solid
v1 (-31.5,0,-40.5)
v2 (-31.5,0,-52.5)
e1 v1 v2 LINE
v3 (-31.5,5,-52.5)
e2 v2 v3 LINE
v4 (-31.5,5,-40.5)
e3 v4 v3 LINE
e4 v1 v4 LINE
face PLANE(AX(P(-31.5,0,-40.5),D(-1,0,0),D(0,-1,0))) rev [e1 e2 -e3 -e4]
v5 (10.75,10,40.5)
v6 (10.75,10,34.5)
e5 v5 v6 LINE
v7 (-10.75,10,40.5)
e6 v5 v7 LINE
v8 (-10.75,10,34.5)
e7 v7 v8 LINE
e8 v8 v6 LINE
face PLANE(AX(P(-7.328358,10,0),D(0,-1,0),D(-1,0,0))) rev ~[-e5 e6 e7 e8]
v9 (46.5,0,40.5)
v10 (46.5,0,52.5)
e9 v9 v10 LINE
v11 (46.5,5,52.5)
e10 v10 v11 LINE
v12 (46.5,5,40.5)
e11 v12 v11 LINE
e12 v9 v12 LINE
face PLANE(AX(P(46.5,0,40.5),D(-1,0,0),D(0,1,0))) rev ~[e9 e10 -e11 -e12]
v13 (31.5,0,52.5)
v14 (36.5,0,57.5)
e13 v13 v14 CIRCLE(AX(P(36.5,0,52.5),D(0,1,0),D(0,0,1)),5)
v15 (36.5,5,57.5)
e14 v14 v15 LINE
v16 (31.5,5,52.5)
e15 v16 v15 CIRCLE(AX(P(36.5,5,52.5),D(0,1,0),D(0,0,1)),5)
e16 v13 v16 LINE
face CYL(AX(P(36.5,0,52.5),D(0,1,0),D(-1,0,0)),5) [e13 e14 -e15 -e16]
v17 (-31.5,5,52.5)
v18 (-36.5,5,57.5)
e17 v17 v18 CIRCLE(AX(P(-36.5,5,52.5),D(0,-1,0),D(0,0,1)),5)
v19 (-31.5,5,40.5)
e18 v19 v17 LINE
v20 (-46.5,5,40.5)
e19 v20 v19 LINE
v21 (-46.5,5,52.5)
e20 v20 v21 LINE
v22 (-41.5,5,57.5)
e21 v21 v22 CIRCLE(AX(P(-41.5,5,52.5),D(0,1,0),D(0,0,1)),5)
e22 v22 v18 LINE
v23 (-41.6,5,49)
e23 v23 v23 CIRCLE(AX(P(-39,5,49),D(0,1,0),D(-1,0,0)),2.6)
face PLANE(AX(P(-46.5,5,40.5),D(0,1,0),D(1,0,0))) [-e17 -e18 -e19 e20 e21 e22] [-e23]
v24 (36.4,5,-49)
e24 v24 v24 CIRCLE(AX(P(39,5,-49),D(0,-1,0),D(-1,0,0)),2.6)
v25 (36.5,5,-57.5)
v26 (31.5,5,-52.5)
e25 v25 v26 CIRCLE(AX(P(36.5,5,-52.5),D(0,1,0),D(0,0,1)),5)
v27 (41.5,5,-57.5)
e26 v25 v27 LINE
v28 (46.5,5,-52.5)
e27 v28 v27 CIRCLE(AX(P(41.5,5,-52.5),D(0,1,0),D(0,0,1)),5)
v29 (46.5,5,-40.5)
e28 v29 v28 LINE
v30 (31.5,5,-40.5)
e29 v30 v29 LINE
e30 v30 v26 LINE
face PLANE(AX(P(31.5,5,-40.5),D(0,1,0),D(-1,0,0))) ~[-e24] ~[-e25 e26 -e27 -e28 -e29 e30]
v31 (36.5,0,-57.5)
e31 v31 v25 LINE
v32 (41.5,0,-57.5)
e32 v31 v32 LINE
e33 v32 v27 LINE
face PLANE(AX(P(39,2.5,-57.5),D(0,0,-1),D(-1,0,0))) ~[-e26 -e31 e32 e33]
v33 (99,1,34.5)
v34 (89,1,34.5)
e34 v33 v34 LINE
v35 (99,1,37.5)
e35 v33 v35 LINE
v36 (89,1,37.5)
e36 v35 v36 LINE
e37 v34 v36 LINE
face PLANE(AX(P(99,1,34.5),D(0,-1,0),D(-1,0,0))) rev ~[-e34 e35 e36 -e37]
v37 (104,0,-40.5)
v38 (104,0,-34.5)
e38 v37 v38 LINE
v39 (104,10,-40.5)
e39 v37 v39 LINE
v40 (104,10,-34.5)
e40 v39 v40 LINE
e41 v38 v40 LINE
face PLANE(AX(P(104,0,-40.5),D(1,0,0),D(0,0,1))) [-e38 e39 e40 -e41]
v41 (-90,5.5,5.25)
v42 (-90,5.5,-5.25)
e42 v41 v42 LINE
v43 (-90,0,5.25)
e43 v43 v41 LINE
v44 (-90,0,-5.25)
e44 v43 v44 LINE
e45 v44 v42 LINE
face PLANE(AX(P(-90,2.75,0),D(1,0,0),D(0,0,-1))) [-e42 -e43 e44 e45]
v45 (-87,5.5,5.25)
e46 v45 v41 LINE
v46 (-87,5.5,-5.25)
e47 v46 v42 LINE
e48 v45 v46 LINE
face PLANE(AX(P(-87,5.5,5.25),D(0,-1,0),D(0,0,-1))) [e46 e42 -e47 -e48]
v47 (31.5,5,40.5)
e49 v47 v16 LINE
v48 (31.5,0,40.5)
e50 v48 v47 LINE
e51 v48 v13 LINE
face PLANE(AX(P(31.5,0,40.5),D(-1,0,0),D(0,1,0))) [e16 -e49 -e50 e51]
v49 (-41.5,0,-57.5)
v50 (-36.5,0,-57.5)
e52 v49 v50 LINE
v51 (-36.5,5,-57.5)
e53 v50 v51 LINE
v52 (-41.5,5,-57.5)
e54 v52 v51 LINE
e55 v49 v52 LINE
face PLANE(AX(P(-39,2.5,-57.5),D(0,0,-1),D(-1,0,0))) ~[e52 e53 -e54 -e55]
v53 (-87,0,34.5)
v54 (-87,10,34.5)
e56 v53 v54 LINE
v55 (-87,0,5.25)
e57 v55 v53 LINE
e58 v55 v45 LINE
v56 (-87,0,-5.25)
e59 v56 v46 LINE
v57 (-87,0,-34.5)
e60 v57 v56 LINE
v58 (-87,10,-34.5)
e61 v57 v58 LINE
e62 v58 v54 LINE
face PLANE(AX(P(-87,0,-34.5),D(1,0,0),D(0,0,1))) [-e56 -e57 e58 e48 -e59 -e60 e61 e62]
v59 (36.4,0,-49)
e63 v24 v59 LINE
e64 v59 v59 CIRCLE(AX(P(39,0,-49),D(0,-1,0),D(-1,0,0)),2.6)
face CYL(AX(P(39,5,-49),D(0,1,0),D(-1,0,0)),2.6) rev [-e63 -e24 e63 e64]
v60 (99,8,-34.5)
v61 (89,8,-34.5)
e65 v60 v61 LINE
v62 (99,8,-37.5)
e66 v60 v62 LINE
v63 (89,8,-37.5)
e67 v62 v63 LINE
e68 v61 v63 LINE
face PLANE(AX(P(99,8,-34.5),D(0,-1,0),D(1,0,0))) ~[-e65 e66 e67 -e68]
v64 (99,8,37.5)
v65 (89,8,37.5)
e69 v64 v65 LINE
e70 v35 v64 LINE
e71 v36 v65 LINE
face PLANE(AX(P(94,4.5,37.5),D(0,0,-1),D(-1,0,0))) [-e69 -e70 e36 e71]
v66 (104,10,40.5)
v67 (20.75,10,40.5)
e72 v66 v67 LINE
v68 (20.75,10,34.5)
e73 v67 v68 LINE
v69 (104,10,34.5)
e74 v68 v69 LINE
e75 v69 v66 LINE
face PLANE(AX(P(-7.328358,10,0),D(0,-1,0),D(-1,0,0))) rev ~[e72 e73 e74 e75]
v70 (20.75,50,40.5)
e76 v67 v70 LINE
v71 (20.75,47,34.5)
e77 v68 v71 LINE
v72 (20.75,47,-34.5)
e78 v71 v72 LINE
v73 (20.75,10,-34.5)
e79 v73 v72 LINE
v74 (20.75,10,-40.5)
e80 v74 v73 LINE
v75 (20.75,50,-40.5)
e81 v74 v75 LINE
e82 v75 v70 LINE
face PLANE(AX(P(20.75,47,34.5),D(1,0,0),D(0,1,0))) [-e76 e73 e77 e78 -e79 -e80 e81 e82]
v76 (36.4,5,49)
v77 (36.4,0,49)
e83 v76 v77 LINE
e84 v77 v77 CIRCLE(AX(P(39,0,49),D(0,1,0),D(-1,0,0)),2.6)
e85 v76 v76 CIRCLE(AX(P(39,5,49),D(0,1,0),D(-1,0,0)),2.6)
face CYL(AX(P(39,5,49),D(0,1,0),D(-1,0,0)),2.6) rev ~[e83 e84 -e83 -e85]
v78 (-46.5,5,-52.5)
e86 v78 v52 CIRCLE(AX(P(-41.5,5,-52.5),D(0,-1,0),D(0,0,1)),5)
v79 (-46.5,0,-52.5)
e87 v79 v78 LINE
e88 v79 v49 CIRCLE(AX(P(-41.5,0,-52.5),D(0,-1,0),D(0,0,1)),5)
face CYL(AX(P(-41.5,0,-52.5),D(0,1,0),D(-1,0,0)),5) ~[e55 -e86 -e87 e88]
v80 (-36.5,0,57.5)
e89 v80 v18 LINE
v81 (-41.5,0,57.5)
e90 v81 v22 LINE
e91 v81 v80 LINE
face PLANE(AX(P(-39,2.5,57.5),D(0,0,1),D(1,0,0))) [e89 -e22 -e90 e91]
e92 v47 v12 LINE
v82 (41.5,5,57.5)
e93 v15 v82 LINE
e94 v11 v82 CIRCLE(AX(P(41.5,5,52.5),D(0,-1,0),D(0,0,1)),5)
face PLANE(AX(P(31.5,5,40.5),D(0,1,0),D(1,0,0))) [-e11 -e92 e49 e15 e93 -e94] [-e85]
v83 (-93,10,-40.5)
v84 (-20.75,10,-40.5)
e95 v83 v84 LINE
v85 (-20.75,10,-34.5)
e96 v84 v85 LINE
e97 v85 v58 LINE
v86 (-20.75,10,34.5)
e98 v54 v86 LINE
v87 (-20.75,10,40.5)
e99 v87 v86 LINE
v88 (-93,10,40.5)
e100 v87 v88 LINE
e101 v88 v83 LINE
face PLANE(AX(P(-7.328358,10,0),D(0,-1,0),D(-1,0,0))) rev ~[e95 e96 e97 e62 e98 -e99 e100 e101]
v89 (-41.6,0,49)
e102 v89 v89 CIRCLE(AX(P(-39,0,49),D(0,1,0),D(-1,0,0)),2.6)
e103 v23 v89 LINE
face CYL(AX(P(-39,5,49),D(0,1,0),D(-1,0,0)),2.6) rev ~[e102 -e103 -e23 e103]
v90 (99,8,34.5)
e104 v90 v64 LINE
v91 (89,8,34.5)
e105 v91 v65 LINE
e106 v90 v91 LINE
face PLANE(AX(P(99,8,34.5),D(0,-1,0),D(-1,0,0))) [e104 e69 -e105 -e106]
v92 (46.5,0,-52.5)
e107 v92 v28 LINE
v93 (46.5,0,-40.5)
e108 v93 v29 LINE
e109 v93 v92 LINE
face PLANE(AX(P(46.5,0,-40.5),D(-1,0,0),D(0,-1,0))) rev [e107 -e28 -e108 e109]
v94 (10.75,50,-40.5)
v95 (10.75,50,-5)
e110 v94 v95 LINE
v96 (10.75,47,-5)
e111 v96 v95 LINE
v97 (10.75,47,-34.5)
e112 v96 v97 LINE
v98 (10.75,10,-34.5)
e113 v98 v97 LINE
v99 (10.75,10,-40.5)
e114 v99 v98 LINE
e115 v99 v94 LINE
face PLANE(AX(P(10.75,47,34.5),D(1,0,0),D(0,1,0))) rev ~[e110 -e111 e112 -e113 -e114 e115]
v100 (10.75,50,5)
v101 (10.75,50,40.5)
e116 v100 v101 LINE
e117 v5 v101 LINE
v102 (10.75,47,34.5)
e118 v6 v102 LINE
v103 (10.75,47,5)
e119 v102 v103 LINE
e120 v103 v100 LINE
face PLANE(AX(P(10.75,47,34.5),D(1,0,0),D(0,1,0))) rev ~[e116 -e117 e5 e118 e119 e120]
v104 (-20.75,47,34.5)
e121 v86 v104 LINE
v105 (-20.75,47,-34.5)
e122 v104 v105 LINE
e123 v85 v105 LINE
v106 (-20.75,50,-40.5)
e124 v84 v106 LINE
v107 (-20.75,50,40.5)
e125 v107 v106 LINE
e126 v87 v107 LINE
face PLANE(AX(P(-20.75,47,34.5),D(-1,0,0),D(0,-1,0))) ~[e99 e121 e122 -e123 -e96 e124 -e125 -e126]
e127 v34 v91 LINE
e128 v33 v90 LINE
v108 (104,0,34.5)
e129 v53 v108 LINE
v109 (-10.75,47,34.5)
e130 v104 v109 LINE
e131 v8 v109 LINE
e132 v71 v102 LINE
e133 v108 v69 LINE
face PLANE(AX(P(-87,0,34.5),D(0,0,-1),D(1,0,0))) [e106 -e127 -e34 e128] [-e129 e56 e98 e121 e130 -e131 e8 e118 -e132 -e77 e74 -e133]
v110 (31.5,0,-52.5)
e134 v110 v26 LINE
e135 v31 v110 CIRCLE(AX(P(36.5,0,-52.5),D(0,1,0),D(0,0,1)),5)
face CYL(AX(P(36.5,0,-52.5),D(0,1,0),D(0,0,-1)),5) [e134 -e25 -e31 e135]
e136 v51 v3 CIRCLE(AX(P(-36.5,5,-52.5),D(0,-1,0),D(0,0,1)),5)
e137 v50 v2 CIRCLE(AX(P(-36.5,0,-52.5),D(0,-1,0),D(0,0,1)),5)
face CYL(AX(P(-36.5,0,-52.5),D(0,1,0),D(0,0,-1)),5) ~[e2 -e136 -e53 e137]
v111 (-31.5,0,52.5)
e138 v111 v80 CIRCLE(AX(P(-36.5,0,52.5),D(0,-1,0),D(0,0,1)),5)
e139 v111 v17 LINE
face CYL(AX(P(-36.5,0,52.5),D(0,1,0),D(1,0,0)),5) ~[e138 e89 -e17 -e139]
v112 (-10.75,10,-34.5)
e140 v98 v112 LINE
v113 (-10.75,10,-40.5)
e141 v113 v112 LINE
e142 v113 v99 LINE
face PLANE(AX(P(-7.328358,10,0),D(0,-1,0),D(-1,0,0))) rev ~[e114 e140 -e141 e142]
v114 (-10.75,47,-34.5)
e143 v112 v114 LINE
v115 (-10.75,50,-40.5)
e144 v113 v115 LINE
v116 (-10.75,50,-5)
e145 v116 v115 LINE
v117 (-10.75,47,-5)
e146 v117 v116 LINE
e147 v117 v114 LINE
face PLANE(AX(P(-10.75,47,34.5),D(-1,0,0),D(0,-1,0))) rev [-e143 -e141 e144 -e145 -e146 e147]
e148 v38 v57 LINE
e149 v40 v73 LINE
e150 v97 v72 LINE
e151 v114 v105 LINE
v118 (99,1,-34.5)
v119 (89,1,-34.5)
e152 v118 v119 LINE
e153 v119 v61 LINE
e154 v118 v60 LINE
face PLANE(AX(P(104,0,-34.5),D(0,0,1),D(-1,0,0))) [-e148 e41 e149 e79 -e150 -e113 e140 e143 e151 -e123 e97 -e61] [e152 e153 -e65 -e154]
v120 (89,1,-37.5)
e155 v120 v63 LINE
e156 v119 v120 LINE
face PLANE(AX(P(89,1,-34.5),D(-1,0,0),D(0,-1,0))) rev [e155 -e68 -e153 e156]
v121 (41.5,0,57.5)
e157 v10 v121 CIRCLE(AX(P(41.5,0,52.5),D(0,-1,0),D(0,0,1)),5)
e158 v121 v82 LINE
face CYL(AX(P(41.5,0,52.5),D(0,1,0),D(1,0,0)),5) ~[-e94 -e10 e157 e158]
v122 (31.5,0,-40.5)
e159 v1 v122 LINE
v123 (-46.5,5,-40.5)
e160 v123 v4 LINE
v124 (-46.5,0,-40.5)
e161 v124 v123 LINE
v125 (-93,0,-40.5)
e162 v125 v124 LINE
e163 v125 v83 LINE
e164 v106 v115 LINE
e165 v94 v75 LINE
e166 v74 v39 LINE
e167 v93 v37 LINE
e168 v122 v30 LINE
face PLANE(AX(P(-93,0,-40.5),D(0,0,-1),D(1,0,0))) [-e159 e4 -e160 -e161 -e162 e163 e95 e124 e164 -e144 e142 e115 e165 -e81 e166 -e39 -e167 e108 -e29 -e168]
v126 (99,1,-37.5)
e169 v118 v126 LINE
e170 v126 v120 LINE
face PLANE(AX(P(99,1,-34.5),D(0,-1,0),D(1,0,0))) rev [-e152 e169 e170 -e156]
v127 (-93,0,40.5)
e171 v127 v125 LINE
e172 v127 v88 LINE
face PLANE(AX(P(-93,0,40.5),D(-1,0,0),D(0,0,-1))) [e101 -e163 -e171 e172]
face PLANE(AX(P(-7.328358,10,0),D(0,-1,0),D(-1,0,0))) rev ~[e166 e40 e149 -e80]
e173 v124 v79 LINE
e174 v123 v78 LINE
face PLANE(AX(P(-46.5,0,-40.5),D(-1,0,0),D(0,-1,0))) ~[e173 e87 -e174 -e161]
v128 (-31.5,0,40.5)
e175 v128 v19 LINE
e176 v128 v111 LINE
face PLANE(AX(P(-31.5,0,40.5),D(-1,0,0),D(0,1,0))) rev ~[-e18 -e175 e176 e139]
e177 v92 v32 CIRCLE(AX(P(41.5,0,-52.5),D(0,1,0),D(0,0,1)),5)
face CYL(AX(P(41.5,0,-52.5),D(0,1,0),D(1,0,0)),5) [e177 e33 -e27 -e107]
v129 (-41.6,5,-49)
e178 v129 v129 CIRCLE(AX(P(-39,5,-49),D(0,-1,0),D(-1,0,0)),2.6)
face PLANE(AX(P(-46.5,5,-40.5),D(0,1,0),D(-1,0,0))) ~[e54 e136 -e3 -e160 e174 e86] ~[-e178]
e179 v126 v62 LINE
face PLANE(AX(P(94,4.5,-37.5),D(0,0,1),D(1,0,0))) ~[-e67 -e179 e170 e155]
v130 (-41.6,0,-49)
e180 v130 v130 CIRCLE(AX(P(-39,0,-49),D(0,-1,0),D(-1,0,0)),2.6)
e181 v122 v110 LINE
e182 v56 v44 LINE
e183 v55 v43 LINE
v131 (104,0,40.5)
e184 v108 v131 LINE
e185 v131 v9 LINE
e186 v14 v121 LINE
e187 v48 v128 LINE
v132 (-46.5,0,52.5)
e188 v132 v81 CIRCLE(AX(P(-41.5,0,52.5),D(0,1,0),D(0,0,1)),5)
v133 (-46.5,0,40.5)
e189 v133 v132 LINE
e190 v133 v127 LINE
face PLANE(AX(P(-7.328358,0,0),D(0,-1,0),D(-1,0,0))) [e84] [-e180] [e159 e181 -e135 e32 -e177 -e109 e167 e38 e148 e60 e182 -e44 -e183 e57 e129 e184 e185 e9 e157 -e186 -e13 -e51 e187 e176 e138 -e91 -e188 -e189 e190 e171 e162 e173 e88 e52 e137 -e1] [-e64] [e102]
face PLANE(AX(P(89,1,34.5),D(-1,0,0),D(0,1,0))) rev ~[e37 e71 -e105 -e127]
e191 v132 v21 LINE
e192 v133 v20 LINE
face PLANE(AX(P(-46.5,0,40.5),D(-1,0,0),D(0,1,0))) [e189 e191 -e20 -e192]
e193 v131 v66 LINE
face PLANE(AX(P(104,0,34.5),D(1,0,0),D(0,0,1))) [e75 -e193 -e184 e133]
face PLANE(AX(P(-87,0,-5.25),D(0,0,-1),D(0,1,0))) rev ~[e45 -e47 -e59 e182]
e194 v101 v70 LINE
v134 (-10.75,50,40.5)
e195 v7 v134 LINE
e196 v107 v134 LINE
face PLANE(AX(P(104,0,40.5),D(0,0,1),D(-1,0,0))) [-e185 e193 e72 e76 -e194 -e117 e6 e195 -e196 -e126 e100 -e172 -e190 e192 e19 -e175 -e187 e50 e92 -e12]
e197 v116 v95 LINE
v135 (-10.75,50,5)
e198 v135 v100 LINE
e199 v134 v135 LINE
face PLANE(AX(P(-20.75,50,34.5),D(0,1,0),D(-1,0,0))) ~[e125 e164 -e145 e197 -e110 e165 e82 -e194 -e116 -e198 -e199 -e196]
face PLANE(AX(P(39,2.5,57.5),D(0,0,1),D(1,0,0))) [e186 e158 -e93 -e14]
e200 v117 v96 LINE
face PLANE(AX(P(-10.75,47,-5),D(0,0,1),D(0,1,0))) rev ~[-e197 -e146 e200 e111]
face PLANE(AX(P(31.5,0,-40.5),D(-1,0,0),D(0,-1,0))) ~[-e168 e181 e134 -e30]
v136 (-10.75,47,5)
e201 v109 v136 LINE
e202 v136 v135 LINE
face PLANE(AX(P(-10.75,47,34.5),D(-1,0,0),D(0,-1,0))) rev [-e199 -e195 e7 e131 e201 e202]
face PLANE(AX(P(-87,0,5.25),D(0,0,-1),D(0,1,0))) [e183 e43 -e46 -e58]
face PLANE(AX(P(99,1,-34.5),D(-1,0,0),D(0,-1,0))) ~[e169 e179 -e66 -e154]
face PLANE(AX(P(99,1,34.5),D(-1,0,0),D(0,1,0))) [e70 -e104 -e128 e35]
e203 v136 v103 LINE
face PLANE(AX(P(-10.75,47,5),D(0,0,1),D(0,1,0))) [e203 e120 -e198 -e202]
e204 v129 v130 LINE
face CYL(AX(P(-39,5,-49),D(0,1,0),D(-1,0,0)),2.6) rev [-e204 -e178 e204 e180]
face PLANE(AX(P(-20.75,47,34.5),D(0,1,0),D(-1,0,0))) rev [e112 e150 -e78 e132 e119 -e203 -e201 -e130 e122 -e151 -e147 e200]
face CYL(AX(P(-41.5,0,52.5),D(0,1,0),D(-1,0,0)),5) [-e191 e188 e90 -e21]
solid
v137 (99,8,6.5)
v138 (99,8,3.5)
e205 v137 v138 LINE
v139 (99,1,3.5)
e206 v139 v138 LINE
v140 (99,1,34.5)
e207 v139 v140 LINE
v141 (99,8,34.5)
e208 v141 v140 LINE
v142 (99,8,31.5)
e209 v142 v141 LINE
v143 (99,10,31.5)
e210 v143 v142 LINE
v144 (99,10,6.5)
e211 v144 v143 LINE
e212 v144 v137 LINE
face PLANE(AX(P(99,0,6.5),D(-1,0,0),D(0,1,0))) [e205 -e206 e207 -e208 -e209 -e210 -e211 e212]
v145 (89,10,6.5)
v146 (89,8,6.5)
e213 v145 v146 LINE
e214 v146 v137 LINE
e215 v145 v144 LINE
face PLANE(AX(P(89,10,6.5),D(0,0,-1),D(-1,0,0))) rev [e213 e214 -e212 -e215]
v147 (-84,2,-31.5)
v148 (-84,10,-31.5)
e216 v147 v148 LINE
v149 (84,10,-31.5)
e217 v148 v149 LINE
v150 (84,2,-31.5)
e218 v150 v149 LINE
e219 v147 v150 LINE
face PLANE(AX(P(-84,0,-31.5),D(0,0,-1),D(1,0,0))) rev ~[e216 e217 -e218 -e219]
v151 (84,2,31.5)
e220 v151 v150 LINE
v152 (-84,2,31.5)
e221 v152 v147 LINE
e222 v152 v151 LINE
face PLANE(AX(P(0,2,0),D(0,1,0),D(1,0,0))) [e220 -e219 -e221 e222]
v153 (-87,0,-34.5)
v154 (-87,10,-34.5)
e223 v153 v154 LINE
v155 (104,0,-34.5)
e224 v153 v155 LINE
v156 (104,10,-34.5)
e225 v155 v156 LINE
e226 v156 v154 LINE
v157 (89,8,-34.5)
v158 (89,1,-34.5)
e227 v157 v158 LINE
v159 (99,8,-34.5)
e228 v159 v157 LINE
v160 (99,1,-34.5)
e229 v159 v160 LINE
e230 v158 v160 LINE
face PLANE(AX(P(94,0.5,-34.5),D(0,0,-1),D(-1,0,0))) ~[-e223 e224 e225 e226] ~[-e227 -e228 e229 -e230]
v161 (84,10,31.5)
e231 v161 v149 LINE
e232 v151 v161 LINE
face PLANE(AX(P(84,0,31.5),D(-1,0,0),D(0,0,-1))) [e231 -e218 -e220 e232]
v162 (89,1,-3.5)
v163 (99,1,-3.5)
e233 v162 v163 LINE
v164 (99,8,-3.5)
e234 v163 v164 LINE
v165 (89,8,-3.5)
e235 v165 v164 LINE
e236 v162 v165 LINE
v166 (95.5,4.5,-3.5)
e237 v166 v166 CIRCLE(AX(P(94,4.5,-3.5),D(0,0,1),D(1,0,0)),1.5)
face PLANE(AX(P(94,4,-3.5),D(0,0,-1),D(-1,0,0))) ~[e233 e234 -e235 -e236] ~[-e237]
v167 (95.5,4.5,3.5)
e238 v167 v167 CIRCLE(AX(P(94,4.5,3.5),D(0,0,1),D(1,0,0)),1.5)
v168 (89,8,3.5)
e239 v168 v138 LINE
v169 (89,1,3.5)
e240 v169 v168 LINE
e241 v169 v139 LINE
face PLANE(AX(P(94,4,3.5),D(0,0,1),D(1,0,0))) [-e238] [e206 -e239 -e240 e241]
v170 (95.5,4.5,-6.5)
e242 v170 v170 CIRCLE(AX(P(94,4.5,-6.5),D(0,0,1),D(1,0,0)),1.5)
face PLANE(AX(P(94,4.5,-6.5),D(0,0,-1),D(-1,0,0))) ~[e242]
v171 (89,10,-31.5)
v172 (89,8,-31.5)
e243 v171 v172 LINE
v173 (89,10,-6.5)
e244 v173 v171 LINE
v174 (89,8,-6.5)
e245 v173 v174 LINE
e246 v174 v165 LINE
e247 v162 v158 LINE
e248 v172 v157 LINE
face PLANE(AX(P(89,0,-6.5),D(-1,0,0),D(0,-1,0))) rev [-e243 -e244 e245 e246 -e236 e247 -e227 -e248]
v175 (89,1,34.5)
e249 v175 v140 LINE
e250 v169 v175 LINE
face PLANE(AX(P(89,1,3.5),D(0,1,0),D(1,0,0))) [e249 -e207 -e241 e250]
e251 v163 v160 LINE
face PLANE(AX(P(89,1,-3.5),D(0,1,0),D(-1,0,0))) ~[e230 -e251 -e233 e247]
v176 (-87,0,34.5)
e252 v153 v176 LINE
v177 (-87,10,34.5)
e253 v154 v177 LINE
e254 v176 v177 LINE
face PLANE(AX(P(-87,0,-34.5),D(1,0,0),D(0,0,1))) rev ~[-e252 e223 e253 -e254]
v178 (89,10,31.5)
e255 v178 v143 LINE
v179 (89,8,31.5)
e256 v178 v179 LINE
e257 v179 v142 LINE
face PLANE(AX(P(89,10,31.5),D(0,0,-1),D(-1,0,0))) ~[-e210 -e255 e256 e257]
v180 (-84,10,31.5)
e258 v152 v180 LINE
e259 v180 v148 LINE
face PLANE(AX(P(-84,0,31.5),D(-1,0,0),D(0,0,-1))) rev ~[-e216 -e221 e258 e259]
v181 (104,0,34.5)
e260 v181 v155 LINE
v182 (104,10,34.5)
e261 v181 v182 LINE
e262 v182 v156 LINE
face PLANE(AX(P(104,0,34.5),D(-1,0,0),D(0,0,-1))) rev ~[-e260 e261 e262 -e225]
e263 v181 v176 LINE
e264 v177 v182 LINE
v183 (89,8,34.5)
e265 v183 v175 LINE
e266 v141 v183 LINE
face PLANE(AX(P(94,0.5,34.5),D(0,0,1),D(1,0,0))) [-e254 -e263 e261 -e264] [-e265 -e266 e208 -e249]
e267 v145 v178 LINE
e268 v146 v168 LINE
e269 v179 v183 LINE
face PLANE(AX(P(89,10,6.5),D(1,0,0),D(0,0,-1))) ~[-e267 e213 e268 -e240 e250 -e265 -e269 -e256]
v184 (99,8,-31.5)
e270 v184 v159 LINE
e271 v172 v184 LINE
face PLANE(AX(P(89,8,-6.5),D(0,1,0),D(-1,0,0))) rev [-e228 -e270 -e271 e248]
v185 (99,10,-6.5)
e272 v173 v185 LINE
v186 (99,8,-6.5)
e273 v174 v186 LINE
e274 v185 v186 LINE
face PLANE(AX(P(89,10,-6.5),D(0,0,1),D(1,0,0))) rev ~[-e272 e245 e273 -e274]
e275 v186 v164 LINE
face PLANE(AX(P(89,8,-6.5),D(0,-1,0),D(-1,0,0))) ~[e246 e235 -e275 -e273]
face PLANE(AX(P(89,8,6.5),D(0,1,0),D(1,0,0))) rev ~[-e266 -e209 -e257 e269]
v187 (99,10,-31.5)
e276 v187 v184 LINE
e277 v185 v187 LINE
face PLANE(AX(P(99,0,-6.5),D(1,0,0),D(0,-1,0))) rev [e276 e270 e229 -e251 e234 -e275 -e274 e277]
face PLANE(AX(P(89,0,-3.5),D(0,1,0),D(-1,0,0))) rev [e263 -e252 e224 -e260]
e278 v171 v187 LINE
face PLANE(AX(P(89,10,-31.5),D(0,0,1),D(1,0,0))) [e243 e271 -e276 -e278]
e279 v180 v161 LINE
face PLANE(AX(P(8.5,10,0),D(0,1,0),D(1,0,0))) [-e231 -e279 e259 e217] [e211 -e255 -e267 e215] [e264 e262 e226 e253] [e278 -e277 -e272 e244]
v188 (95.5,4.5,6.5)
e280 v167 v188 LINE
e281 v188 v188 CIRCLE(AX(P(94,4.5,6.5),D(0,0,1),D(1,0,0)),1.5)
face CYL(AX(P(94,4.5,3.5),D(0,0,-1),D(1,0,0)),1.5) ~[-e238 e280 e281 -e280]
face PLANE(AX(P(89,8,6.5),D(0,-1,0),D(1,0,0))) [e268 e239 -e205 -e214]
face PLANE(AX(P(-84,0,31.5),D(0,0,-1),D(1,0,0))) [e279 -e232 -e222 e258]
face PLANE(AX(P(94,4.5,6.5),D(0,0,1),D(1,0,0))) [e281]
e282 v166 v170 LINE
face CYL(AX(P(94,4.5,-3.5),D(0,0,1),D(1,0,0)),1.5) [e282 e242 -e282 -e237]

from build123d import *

# Parameters (mm, degrees)
SKETCH1_W                      = 168
SKETCH1_H                      = 63
BOSS_EXTRUDE1_DEPTH            = 10
SKETCH2_W                      = 168
SKETCH2_H                      = 63
BOSS_EXTRUDE2_DEPTH            = 2
SKETCH3_W                      = 10
SKETCH3_H                      = 25
CUT_EXTRUDE1_DEPTH             = 111.028405423
SKETCH4_W                      = 10
SKETCH4_H                      = 8
CUT_EXTRUDE2_DEPTH             = 3
CUT_EXTRUDE2_DIRECTION_2_REACH = 114.236
SKETCH6_W                      = 10
SKETCH6_H                      = 1
BOSS_EXTRUDE4_DEPTH            = 31
SKETCH7_R                      = 1.5
BOSS_EXTRUDE5_DEPTH            = 3
BOSS_EXTRUDE6_DEPTH            = 10
SKETCH16_W                     = 10.5
SKETCH16_H                     = 5.5
CUT_EXTRUDE5_DEPTH             = 3
SKETCH15_W                     = 10
SKETCH15_H                     = 7
CUT_EXTRUDE6_DEPTH             = 3
SKETCH17_W                     = 15
SKETCH17_H                     = 5
BOSS_EXTRUDE7_DEPTH            = 17
SKETCH18_R                     = 2.6
CUT_EXTRUDE7_DEPTH             = 5
FILLET1_R                      = 5
FILLET1_OF_MIRROR8_R           = 5
SKETCH19_W                     = 10
SKETCH19_H                     = 6
BOSS_EXTRUDE8_DEPTH            = 40
BOSS_EXTRUDE9_REACH            = 149.58
SKETCH20_W                     = 10
SKETCH20_H                     = 3
BOSS_EXTRUDE10_REACH           = 139.745
SKETCH21_W                     = 10
SKETCH21_H                     = 3


with BuildPart() as part:
    # Sketch1 → Boss-Extrude1 (new body)
    with BuildSketch(Plane(origin=(0, 0, 0), x_dir=(1, 0, 0), z_dir=(0, 1, 0))):
        Polygon((0, 34.5), (-87, 34.5), (-87, -34.5), (84, -34.5), (104, -34.5), (104, 34.5), (84, 34.5), align=None)
        Rectangle(SKETCH1_W, SKETCH1_H, mode=Mode.SUBTRACT)
    extrude(amount=BOSS_EXTRUDE1_DEPTH)

    # Sketch2 → Boss-Extrude2 (add)
    with BuildSketch(Plane(origin=(0, 0, 0), x_dir=(1, 0, 0), z_dir=(0, 1, 0))):
        Rectangle(SKETCH2_W, SKETCH2_H)
    extrude(amount=BOSS_EXTRUDE2_DEPTH)

    # Sketch3 → Cut-Extrude1 (cut, through all)
    with BuildSketch(Plane(origin=(0, 10, 0), x_dir=(1, 0, 0), z_dir=(0, 1, 0))):
        with Locations((94, 19)):
            Rectangle(SKETCH3_W, SKETCH3_H)
    cut_extrude1 = extrude(amount=-CUT_EXTRUDE1_DEPTH, mode=Mode.SUBTRACT)

    # Mirror1: Cut-Extrude1 across plane
    add(cut_extrude1.mirror(Plane.XY), mode=Mode.SUBTRACT)

    # Sketch4 → Cut-Extrude2 (cut)
    with BuildSketch(Plane.XY.offset(6.5)):
        with Locations((94, 4)):
            Rectangle(SKETCH4_W, SKETCH4_H)
    cut_extrude2 = extrude(amount=-CUT_EXTRUDE2_DEPTH, mode=Mode.SUBTRACT)

    # Sketch4 → Cut-Extrude2 direction 2 (cut, up to next)
    with BuildSketch(Plane.XY.offset(6.5), mode=Mode.PRIVATE) as cut_extrude2_direction_2_sk1:
        with Locations((94, 4)):
            Rectangle(SKETCH4_W, SKETCH4_H)
    cut_extrude2_direction_2_tool1 = extrude(cut_extrude2_direction_2_sk1.sketch, amount=CUT_EXTRUDE2_DIRECTION_2_REACH, mode=Mode.PRIVATE) & part.part
    cut_extrude2_direction_2 = cut_extrude2_direction_2_tool1.solids().sort_by_distance((94, 4, 6.5))[0]
    add(cut_extrude2_direction_2, mode=Mode.SUBTRACT)

    # Mirror2: Cut-Extrude2, Cut-Extrude2 direction 2 across plane
    add(cut_extrude2.mirror(Plane.XY), mode=Mode.SUBTRACT)
    add(cut_extrude2_direction_2.mirror(Plane.XY), mode=Mode.SUBTRACT)

    # Sketch6 → Boss-Extrude4 (add)
    with BuildSketch(Plane.XY.offset(3.5)):
        with Locations((94, 0.5)):
            Rectangle(SKETCH6_W, SKETCH6_H)
    boss_extrude4 = extrude(amount=BOSS_EXTRUDE4_DEPTH)

    # Mirror5: Boss-Extrude4 across plane
    add(boss_extrude4.mirror(Plane.XY))

    # Sketch7 → Boss-Extrude5 (add)
    with BuildSketch(Plane.XY.offset(3.5)):
        with Locations((94, 4.5)):
            Circle(SKETCH7_R)
    boss_extrude5 = extrude(amount=BOSS_EXTRUDE5_DEPTH)

    # Mirror6: Boss-Extrude5 across plane
    add(boss_extrude5.mirror(Plane.XY))


with BuildPart() as body_2:
    # Sketch8 → Boss-Extrude6 (new body)
    with BuildSketch(Plane(origin=(0, 0, 0), x_dir=(1, 0, 0), z_dir=(0, 1, 0))):
        Polygon((104, -34.5), (104, -40.5), (-93, -40.5), (-93, 40.5), (104, 40.5), (104, 34.5), (-87, 34.5), (-87, -34.5), align=None)
    extrude(amount=BOSS_EXTRUDE6_DEPTH)

    # Sketch16 → Cut-Extrude5 (cut)
    with BuildSketch(Plane(origin=(-87, 0, 0), x_dir=(0, 0, -1), z_dir=(1, 0, 0))):
        with Locations((0, 2.75)):
            Rectangle(SKETCH16_W, SKETCH16_H)
    extrude(amount=-CUT_EXTRUDE5_DEPTH, mode=Mode.SUBTRACT)

    # Sketch15 → Cut-Extrude6 (cut)
    with BuildSketch(Plane(origin=(0, 0, 34.5), x_dir=(-1, 0, 0), z_dir=(0, 0, -1))):
        with Locations((-94, 4.5)):
            Rectangle(SKETCH15_W, SKETCH15_H)
    cut_extrude6 = extrude(amount=-CUT_EXTRUDE6_DEPTH, mode=Mode.SUBTRACT)

    # Mirror7: Cut-Extrude6 across plane
    add(cut_extrude6.mirror(Plane.XY), mode=Mode.SUBTRACT)

    # Sketch17 → Boss-Extrude7 (add)
    with BuildSketch(Plane.XY.offset(40.5)):
        with Locations((-39, 2.5)):
            Rectangle(SKETCH17_W, SKETCH17_H)
        with Locations((39, 2.5)):
            Rectangle(SKETCH17_W, SKETCH17_H)
    boss_extrude7 = extrude(amount=BOSS_EXTRUDE7_DEPTH)

    # Sketch18 → Cut-Extrude7 (cut)
    with BuildSketch(Plane(origin=(0, 5, 0), x_dir=(1, 0, 0), z_dir=(0, 1, 0))):
        with Locations(Location((-39, -49, 0), (0, 0, 180))):
            Circle(SKETCH18_R)
        with Locations(Location((39, -49, 0), (0, 0, 180))):
            Circle(SKETCH18_R)
    cut_extrude7 = extrude(amount=-CUT_EXTRUDE7_DEPTH, mode=Mode.SUBTRACT)

    # Fillet1
    fillet1_edges = [body_2.edges().sort_by_distance(p)[0] for p in [
        (-46.5, 2.5, 57.5),
        (-31.5, 2.5, 57.5),
        (31.5, 2.5, 57.5),
        (46.5, 2.5, 57.5),
    ]]
    fillet(fillet1_edges, radius=FILLET1_R)

    # Mirror8: Boss-Extrude7, Cut-Extrude7 across plane
    add(boss_extrude7.mirror(Plane.XY))
    add(cut_extrude7.mirror(Plane.XY), mode=Mode.SUBTRACT)

    # Fillet1 of Mirror8
    fillet1_of_mirror8_edges = [body_2.edges().sort_by_distance(p)[0] for p in [
        (-46.5, 2.5, -57.5),
        (-31.5, 2.5, -57.5),
        (31.5, 2.5, -57.5),
        (46.5, 2.5, -57.5),
    ]]
    fillet(fillet1_of_mirror8_edges, radius=FILLET1_OF_MIRROR8_R)

    # Sketch19 → Boss-Extrude8 (add)
    with BuildSketch(Plane(origin=(0, 10, 0), x_dir=(1, 0, 0), z_dir=(0, 1, 0))):
        with Locations((-15.75, -37.5)):
            Rectangle(SKETCH19_W, SKETCH19_H)
        with Locations((15.75, -37.5)):
            Rectangle(SKETCH19_W, SKETCH19_H)
    boss_extrude8 = extrude(amount=BOSS_EXTRUDE8_DEPTH)

    # Mirror9: Boss-Extrude8 across plane
    add(boss_extrude8.mirror(Plane.XY))

    # Sketch20 → Boss-Extrude9 (add, up to next)
    with BuildSketch(Plane(origin=(0, 0, 34.5), x_dir=(-1, 0, 0), z_dir=(0, 0, -1)), mode=Mode.PRIVATE) as boss_extrude9_sk1:
        with Locations((-15.75, 48.5)):
            Rectangle(SKETCH20_W, SKETCH20_H)
    boss_extrude9_tool1 = extrude(boss_extrude9_sk1.sketch, amount=BOSS_EXTRUDE9_REACH, mode=Mode.PRIVATE) - body_2.part
    boss_extrude9 = boss_extrude9_tool1.solids().sort_by_distance((15.75, 48.5, 34.5))[0]
    add(boss_extrude9)

    # Mirror10: Boss-Extrude9 across plane
    add(boss_extrude9.mirror(Plane(origin=(0, 0, 0), x_dir=(0, 0, 1), z_dir=(1, 0, 0))))

    # Sketch21 → Boss-Extrude10 (add, up to next)
    with BuildSketch(Plane(origin=(-10.75, 0, 0), x_dir=(0, 0, -1), z_dir=(1, 0, 0)), mode=Mode.PRIVATE) as boss_extrude10_sk1:
        with Locations((0, 48.5)):
            Rectangle(SKETCH21_W, SKETCH21_H)
    boss_extrude10_tool1 = extrude(boss_extrude10_sk1.sketch, amount=BOSS_EXTRUDE10_REACH, mode=Mode.PRIVATE) - body_2.part
    add(boss_extrude10_tool1.solids().sort_by_distance((-10.75, 48.5, 0))[0])


solid = Compound([part.part, body_2.part])
